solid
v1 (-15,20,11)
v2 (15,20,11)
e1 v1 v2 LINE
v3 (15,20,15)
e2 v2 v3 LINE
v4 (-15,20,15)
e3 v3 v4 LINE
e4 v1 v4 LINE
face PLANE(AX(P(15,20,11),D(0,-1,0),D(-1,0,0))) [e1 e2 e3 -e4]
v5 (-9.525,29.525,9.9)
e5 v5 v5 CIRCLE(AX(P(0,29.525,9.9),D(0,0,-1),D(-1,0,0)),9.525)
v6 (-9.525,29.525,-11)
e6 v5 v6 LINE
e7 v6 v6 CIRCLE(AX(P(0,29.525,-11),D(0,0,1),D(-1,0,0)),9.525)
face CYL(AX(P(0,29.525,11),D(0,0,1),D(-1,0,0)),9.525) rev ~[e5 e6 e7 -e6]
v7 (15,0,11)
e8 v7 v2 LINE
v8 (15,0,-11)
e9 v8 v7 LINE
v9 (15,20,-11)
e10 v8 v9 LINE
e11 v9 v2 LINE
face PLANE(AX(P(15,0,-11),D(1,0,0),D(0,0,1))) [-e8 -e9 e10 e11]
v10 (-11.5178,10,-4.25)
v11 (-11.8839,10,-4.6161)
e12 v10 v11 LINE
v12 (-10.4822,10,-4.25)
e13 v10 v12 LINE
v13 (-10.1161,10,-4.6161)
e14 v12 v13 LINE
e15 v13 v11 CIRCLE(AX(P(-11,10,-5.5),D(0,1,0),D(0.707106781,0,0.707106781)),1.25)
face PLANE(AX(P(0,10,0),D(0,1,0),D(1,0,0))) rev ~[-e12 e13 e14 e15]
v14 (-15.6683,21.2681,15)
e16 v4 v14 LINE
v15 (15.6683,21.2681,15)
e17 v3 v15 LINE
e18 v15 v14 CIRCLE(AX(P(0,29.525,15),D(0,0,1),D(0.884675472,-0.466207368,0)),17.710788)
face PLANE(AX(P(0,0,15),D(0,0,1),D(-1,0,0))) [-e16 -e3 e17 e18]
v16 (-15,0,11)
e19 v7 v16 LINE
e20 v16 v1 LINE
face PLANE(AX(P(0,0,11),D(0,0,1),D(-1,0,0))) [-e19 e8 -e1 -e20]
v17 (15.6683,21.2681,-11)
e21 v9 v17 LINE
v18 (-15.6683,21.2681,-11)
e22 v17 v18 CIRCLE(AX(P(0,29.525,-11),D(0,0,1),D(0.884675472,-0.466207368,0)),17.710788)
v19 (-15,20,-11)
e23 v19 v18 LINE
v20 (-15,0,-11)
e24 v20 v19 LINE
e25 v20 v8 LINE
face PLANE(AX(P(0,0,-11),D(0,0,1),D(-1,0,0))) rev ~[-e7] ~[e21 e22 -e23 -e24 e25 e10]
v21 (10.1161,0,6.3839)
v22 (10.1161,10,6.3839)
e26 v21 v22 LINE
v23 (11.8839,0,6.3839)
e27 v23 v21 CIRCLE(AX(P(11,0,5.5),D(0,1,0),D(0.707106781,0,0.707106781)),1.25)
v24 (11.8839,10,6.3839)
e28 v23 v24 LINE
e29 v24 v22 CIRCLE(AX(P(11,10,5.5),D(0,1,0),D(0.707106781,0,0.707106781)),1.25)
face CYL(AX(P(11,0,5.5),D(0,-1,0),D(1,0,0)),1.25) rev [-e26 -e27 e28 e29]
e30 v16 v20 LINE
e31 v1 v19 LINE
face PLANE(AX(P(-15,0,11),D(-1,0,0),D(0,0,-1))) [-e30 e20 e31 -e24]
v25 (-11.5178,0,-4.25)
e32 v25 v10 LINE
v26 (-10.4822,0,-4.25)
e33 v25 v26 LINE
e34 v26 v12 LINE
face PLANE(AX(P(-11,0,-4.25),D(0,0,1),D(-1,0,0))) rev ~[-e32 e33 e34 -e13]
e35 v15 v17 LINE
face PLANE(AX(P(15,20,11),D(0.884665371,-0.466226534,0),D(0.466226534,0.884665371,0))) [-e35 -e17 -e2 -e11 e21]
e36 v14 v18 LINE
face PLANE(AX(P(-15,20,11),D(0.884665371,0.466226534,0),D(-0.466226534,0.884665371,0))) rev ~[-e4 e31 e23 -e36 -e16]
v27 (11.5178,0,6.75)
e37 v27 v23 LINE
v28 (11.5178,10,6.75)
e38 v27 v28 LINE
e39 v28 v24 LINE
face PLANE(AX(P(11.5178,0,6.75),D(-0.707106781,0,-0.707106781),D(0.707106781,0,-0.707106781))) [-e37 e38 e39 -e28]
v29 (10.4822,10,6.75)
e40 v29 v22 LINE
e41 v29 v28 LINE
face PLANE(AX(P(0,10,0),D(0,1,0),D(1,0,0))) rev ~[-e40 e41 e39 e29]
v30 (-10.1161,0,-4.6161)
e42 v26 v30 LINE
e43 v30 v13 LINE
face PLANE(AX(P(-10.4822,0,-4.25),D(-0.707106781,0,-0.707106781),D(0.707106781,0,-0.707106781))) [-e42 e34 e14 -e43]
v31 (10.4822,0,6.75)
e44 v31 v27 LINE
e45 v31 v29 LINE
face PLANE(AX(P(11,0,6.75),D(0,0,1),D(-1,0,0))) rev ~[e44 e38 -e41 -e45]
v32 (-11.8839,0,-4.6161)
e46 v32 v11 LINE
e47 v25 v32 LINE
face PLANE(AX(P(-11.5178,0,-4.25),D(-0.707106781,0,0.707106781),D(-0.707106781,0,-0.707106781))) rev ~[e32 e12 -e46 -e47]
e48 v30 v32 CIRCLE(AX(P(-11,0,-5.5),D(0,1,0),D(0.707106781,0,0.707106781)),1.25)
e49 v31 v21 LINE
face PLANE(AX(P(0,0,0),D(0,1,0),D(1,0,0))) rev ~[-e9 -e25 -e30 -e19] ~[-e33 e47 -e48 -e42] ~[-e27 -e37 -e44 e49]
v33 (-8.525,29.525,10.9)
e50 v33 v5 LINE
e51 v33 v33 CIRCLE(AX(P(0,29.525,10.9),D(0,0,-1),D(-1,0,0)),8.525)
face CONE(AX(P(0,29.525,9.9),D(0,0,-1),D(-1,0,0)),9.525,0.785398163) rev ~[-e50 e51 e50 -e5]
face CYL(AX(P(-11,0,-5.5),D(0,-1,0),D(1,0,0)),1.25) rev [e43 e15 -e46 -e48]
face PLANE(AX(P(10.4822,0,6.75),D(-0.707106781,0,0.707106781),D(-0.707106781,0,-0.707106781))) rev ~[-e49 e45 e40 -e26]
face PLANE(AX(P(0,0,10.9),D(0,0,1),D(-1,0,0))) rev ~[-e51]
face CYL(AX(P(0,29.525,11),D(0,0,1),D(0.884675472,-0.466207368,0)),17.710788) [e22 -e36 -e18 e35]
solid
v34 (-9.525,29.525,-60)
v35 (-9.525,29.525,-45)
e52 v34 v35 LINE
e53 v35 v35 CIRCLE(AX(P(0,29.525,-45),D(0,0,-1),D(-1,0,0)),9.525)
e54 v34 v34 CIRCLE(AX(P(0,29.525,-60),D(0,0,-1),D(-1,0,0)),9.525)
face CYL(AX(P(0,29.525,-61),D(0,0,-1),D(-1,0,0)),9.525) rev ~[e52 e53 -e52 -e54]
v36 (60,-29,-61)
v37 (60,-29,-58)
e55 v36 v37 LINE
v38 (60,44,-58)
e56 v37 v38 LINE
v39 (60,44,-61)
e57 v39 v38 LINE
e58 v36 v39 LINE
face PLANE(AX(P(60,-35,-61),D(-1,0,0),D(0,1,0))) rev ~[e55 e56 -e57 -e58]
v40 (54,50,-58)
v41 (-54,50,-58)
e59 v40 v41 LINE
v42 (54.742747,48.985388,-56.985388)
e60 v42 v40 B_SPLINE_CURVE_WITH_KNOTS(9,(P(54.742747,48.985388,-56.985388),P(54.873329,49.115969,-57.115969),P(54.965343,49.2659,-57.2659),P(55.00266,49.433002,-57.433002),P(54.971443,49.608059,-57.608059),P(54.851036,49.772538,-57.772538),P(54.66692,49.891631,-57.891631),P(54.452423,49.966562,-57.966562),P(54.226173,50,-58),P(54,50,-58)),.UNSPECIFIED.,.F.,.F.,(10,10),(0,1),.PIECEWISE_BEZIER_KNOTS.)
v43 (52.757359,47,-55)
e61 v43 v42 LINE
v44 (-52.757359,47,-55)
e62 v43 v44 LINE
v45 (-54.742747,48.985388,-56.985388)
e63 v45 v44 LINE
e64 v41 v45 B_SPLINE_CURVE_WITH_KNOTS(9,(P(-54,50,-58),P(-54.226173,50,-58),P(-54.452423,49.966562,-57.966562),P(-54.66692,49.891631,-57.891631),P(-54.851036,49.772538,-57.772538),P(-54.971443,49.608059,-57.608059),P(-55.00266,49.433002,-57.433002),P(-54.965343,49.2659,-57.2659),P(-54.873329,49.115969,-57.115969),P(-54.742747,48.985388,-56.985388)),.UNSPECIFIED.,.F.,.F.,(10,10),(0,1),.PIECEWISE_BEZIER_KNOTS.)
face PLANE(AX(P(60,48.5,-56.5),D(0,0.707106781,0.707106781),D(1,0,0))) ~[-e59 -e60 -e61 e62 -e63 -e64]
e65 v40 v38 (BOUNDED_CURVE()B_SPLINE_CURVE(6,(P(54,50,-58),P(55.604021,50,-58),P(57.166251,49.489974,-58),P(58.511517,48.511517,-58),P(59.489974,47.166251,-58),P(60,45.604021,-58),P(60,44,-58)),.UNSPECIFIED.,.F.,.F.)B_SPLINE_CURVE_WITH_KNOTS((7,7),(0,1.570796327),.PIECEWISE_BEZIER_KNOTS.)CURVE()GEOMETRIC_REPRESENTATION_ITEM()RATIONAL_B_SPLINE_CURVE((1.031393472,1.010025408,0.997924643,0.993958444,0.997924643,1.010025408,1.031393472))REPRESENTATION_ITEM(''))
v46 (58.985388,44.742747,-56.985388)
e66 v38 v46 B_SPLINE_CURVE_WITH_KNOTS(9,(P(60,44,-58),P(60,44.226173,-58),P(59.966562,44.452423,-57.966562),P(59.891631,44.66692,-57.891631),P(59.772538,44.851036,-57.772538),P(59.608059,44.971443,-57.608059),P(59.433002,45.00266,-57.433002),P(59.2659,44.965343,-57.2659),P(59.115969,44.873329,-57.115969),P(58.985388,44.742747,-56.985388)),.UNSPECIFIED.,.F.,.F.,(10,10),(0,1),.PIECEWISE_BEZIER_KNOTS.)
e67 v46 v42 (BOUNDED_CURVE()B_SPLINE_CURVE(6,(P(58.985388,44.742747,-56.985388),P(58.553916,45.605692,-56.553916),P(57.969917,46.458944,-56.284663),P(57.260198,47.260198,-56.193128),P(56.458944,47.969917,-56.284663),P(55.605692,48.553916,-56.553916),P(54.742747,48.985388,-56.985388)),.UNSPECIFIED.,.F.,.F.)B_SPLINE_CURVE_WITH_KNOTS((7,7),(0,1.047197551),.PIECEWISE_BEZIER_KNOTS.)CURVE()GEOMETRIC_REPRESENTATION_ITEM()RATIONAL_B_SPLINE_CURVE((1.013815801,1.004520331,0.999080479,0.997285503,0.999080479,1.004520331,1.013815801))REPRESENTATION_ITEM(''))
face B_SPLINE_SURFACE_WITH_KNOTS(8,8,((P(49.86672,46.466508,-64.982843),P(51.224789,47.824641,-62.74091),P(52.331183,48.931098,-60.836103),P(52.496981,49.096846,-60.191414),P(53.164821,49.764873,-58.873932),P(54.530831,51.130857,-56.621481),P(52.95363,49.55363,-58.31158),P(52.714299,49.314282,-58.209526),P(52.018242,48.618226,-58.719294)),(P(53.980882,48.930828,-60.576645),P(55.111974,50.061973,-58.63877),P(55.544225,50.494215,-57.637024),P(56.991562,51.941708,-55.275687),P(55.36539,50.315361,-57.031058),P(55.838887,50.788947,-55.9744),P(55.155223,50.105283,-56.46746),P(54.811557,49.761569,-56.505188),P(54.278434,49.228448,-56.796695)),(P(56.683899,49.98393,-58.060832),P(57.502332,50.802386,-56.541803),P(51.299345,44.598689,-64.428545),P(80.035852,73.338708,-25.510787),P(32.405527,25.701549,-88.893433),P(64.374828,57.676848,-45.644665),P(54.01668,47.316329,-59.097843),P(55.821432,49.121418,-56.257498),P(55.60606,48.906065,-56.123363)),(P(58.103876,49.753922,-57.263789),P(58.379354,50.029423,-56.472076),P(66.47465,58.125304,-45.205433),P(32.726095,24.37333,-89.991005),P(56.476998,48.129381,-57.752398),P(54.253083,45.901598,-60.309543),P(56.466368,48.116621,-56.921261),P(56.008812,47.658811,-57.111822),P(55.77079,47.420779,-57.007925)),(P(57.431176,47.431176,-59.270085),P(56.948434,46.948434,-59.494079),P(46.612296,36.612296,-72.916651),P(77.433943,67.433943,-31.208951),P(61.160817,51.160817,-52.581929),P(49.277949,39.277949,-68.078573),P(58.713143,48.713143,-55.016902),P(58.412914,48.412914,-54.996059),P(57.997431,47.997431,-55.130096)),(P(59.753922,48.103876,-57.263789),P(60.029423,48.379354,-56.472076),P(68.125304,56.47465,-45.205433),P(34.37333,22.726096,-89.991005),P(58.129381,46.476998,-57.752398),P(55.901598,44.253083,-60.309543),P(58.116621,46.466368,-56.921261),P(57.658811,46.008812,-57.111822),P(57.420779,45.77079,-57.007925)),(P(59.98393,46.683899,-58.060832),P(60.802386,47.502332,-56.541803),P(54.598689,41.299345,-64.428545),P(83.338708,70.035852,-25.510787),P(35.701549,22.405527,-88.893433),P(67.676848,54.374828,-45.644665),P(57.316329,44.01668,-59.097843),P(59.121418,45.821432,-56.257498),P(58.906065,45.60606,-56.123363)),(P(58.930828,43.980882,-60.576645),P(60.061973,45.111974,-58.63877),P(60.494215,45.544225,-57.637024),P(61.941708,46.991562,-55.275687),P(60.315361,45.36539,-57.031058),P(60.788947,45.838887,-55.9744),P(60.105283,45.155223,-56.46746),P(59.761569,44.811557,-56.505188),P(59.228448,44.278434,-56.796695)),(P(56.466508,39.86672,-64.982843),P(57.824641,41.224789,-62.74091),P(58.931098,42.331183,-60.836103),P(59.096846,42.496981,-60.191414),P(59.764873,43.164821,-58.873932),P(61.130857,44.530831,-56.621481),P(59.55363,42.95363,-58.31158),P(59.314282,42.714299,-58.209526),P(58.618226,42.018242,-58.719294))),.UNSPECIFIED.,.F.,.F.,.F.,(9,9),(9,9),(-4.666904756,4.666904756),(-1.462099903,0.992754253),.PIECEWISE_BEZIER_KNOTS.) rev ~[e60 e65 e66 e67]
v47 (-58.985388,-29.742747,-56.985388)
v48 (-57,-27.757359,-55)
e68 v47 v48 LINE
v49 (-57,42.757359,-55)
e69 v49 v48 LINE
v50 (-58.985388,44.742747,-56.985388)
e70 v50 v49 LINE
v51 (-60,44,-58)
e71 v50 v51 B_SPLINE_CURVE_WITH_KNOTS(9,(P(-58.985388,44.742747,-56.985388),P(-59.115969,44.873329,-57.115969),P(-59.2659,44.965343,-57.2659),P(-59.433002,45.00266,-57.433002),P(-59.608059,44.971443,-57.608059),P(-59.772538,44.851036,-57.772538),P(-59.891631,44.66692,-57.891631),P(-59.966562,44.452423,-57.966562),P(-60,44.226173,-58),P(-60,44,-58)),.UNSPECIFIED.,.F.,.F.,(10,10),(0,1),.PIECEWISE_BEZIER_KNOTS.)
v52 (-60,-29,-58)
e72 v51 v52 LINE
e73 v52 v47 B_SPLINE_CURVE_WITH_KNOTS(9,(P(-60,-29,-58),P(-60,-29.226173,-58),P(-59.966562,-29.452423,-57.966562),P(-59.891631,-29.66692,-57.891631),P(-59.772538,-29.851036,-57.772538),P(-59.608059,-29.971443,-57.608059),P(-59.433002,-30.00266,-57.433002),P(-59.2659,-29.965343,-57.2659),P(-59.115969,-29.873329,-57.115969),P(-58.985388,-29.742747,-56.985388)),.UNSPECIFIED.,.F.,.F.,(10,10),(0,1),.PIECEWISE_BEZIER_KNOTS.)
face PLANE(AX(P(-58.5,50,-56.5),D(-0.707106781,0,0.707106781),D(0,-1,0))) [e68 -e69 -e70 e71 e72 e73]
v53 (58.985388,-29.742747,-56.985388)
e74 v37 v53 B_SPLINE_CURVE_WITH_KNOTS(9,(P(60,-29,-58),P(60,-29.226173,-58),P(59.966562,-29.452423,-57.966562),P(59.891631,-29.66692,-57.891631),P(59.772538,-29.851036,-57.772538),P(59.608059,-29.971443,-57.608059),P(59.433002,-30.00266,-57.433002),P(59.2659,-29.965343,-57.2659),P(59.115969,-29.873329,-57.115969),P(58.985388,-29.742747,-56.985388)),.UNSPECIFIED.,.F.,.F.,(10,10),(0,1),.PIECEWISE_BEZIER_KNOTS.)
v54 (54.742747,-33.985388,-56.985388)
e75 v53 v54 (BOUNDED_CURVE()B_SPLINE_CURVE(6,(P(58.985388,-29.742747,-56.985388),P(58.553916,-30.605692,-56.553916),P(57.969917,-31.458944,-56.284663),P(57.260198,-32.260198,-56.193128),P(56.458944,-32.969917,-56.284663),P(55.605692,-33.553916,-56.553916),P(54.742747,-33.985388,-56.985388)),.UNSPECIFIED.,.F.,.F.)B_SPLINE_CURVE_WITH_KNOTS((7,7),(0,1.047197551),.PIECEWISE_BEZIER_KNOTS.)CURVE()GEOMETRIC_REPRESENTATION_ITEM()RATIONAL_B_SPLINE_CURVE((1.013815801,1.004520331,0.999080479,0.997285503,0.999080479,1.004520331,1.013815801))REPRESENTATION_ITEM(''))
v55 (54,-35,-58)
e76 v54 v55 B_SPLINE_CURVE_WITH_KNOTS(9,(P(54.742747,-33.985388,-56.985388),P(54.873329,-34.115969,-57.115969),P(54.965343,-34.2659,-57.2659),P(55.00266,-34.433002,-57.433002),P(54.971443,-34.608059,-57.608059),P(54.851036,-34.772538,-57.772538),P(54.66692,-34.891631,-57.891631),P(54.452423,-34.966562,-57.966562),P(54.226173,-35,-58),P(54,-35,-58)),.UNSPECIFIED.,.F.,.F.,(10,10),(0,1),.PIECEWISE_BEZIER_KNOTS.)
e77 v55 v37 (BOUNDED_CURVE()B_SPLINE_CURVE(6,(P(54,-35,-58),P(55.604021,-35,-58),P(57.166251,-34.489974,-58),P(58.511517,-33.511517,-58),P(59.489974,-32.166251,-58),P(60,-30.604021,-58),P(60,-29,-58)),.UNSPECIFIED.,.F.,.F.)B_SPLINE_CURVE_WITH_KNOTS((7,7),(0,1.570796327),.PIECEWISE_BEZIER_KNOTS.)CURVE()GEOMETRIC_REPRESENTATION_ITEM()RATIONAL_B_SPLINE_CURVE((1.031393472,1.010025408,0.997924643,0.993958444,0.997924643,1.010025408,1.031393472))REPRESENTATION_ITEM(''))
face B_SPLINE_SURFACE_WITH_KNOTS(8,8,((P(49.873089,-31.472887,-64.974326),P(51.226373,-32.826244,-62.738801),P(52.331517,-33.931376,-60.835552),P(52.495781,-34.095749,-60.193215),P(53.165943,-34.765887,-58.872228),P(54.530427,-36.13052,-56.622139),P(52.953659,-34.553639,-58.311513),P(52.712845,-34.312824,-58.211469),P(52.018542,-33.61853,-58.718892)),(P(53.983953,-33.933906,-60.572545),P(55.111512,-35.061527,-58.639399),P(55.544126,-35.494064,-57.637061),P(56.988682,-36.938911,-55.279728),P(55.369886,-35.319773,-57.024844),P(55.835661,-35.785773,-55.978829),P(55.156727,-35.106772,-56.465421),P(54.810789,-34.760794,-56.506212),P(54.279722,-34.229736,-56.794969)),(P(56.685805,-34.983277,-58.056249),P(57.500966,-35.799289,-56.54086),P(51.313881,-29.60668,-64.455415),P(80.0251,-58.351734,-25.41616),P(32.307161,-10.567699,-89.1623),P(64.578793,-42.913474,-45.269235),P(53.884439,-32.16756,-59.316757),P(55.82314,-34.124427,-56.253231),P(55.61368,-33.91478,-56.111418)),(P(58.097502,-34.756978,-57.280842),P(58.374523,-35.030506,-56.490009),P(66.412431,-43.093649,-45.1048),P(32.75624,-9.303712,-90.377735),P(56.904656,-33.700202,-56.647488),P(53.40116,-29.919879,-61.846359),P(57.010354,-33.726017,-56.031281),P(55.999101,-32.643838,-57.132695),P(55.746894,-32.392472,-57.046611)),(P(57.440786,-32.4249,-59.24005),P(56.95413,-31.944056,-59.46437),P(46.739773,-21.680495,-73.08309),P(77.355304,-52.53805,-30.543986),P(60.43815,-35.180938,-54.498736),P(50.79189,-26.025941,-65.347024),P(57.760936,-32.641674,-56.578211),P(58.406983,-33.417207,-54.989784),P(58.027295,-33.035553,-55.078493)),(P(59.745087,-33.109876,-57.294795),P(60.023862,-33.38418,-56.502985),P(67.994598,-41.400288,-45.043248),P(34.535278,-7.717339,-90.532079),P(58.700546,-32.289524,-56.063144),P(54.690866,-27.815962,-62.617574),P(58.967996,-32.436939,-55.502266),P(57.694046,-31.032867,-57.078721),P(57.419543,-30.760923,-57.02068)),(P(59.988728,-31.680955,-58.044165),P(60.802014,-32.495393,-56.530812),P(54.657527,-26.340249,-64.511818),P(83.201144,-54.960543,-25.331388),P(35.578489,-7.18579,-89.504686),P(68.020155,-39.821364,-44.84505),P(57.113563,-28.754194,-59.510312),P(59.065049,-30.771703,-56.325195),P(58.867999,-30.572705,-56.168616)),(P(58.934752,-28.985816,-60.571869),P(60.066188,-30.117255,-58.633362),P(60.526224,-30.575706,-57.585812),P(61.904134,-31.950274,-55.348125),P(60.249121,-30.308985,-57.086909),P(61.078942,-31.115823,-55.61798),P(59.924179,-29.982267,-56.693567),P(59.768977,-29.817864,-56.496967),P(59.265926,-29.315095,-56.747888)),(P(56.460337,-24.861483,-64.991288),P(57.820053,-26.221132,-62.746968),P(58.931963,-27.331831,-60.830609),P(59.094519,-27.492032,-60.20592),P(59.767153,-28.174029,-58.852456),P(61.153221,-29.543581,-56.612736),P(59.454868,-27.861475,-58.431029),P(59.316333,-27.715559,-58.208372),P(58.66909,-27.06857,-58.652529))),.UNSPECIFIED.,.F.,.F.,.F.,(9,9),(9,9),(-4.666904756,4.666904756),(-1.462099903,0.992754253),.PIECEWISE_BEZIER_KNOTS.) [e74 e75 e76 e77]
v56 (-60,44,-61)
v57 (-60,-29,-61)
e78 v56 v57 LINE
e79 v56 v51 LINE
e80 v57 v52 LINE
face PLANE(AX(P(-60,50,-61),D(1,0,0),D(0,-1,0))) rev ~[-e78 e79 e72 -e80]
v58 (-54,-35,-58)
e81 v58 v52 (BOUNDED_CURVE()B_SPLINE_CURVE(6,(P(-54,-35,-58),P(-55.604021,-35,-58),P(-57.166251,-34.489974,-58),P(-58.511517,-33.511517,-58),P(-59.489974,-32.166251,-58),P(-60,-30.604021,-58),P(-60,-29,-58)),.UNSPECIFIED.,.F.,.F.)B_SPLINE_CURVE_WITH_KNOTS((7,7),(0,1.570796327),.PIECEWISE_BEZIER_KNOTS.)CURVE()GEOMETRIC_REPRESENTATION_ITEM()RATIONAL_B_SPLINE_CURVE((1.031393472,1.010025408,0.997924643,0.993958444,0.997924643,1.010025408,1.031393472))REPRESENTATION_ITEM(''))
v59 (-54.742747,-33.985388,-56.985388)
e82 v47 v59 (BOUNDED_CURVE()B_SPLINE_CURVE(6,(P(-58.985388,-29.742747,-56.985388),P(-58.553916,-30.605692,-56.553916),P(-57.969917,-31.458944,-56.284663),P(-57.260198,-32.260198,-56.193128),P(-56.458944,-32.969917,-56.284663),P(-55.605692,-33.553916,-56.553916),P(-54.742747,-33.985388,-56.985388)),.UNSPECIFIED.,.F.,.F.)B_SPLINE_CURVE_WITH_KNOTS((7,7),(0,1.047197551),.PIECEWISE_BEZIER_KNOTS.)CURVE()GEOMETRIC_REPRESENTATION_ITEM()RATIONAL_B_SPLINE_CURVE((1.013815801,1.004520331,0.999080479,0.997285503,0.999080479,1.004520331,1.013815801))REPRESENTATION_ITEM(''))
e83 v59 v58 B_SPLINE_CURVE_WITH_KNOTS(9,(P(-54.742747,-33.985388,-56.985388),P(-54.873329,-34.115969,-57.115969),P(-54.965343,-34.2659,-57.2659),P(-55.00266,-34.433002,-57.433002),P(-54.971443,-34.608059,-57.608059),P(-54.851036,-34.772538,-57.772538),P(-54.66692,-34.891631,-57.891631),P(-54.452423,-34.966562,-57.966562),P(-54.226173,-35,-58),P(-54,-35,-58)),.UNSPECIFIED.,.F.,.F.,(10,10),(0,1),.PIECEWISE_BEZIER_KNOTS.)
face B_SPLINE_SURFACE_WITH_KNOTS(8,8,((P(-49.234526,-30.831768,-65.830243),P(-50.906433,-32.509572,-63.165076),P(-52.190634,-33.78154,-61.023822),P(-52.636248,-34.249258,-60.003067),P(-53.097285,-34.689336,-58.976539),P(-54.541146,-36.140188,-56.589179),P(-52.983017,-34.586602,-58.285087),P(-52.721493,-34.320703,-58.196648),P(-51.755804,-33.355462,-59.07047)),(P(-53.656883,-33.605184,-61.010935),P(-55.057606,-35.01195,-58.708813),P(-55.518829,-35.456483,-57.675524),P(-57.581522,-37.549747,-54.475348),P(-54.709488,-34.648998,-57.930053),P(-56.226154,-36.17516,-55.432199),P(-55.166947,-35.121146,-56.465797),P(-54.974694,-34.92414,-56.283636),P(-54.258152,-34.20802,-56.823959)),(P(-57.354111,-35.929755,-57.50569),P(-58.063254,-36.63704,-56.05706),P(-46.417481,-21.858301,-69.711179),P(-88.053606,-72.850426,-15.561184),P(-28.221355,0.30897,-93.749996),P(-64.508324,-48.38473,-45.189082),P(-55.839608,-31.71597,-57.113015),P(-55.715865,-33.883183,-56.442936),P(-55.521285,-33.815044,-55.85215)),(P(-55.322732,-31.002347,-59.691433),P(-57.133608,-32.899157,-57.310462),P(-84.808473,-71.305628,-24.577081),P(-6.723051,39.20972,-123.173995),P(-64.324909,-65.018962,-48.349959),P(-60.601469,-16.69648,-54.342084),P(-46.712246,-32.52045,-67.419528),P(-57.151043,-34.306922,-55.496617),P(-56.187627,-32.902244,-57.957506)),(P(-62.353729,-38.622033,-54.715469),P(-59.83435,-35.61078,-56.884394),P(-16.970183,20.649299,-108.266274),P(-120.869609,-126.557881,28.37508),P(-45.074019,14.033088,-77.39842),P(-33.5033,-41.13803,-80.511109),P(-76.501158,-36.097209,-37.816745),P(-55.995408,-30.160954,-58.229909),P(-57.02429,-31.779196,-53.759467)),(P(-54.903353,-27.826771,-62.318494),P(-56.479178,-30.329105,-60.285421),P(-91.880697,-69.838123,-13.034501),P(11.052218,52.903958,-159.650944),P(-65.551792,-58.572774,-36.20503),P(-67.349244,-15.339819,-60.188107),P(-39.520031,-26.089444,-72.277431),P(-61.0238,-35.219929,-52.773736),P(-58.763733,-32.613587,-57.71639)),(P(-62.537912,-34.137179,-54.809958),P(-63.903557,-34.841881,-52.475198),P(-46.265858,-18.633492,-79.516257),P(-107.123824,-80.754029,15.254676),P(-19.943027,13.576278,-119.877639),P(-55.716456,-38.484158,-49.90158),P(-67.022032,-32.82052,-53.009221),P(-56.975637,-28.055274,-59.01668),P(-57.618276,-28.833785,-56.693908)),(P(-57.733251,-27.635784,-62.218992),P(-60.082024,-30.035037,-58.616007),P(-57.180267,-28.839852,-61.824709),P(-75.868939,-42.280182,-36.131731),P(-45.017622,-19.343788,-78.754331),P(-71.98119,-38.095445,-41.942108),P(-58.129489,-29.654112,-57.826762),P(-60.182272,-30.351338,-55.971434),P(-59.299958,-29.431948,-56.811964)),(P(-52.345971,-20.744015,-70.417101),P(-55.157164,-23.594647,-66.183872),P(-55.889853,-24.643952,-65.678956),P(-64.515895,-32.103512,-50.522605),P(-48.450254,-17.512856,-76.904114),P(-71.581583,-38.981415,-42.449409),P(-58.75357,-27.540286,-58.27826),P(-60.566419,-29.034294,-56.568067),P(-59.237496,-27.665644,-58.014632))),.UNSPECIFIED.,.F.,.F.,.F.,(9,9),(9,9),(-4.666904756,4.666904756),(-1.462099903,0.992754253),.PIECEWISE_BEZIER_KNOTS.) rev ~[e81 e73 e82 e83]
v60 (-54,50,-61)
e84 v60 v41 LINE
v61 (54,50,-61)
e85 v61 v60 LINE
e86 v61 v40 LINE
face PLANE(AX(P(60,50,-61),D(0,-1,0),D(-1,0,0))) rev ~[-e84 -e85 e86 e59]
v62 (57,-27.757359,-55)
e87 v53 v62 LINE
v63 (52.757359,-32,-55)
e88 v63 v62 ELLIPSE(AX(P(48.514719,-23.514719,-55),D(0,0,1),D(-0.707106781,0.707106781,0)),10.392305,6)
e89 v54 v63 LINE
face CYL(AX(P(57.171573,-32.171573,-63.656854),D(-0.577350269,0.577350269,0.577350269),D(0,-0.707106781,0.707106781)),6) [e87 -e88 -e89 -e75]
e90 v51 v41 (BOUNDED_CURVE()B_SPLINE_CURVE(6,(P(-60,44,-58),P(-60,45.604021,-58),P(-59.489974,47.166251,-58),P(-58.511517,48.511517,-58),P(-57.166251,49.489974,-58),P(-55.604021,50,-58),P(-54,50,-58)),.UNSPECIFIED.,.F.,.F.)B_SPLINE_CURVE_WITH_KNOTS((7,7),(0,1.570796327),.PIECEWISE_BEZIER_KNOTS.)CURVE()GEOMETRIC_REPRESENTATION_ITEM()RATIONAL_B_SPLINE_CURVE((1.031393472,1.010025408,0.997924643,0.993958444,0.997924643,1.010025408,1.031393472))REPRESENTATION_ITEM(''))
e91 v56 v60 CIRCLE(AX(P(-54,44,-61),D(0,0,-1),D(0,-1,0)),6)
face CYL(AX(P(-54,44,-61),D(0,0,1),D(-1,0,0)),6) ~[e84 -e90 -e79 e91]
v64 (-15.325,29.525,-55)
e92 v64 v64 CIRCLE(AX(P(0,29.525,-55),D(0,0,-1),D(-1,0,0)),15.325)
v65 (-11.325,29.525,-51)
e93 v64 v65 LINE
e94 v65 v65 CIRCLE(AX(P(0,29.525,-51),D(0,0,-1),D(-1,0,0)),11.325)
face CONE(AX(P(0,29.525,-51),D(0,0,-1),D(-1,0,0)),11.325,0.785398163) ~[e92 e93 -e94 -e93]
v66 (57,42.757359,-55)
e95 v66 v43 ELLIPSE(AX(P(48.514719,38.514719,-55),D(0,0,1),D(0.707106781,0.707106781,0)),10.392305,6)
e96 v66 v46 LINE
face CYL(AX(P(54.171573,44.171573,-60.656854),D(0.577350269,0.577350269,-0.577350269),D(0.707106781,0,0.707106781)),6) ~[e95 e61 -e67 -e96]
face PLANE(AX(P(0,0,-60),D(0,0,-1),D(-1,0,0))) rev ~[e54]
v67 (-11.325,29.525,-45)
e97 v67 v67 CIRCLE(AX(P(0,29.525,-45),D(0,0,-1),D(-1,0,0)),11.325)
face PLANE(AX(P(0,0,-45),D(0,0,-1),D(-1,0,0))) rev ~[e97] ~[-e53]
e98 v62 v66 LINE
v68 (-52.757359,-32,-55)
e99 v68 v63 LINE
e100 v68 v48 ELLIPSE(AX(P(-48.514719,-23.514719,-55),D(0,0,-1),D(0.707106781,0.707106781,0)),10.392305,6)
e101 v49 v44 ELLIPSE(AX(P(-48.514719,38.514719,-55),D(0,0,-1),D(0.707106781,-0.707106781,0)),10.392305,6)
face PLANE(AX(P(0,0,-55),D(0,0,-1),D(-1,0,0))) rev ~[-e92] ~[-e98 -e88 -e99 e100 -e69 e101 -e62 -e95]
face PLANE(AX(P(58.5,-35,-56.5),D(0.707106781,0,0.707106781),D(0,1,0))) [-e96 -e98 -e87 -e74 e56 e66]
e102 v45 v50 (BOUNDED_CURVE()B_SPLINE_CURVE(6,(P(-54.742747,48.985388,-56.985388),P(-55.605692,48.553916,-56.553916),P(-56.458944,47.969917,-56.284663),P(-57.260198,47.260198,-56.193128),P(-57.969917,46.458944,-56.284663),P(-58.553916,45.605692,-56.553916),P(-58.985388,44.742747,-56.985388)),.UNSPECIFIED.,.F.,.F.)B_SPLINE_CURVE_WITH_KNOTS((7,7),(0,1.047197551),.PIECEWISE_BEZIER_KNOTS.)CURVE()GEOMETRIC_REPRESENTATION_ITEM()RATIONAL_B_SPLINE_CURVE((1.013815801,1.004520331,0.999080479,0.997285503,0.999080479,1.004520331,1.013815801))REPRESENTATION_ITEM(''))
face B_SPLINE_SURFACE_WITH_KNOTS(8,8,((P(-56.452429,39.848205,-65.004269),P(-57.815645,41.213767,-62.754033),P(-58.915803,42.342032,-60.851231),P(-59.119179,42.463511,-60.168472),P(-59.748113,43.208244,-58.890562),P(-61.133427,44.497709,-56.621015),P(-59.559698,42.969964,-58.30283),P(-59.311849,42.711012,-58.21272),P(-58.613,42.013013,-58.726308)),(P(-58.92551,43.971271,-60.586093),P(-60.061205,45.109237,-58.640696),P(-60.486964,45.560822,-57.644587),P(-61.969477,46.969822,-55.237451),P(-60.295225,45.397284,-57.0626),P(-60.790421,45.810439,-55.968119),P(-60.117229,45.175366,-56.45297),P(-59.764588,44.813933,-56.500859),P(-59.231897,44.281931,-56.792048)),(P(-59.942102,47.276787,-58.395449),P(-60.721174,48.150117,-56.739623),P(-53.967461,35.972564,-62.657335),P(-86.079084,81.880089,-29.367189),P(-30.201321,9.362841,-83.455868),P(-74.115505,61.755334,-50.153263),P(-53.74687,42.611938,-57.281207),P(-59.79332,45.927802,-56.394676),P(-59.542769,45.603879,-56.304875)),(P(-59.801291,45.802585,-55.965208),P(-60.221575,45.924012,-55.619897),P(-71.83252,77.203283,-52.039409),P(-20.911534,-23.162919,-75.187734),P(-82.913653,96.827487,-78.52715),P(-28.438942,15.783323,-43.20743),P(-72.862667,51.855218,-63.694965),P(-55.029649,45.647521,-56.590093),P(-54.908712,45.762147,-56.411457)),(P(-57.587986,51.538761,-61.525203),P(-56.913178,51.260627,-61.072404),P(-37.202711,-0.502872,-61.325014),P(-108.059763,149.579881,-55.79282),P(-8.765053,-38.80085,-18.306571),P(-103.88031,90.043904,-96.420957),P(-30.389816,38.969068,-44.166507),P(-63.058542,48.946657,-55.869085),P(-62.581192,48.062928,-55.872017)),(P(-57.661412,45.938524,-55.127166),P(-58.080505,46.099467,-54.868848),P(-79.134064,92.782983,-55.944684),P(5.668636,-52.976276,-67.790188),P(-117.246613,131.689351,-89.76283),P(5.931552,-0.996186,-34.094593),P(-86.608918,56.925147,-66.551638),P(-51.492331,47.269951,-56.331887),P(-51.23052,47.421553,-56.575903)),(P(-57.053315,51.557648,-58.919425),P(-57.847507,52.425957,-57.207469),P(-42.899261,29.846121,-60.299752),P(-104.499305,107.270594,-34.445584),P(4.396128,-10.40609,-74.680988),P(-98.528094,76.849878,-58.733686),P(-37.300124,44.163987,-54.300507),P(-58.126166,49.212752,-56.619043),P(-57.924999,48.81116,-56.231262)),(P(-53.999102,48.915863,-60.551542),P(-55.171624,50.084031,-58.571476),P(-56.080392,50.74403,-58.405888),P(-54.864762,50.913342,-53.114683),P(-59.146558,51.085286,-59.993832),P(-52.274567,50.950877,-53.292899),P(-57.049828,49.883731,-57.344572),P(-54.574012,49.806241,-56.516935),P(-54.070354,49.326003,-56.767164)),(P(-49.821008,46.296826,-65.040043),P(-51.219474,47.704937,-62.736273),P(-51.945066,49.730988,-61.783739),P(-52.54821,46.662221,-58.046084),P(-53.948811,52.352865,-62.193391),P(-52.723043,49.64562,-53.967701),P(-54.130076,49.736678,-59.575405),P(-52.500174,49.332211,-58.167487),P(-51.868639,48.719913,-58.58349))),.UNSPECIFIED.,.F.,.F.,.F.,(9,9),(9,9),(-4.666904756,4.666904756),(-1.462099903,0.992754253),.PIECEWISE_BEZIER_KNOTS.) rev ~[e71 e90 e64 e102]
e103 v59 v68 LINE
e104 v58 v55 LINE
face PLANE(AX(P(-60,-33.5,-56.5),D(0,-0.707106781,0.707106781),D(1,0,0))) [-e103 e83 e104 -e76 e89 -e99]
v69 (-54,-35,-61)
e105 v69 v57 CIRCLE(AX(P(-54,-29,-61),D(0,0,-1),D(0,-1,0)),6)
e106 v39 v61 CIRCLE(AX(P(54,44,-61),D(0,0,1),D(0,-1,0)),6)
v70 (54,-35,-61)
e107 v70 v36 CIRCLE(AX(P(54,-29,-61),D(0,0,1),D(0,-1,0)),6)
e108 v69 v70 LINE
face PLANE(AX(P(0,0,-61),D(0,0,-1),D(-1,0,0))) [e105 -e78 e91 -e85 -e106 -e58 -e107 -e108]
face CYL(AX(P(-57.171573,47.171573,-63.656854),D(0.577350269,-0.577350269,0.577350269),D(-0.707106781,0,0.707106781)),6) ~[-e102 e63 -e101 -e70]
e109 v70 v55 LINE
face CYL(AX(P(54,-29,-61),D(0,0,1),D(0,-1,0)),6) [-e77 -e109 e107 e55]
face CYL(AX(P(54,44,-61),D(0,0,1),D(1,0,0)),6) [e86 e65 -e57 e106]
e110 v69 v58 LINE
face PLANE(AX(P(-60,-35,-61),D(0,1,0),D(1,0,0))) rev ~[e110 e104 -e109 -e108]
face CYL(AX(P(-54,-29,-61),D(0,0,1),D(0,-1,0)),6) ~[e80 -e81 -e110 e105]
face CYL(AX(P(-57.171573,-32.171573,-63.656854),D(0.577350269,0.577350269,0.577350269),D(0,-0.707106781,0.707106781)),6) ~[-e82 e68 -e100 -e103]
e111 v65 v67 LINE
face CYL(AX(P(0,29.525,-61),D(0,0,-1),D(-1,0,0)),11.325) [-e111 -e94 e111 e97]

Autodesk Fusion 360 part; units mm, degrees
sketch "Sketch1" plane through (0, 0, 0) normal (0, 1, 0) x (1, 0, 0) in component "Rough draft"
  line L0 (15, -11) -> (-15, -11)
  line L1 (-15, -11) -> (-15, 11)
  line L2 (-15, 11) -> (15, 11)
  line L3 (15, 11) -> (15, -11)
  line L4 (15, -11) -> (-15, 11) construction
  line L5 (-15, -11) -> (15, 11) construction
  line L6 (11, 5.5) -> (-11, 5.5) construction
  line L7 (-11, 5.5) -> (-11, -5.5) construction
  line L8 (-11, -5.5) -> (11, -5.5) construction
  line L9 (11, -5.5) -> (11, 5.5) construction
  line L10 (11, 5.5) -> (-11, -5.5) construction
  line L11 (-11, 5.5) -> (11, -5.5) construction
  circle A0 centre (11, -5.5) radius 1.25
  circle A1 centre (-11, 5.5) radius 1.25
  dimension "d1" = 22
  dimension "d2" = 30
  dimension "d3" = 22
  dimension "d4" = 11
  dimension "d5" = 2.5
extrude "Extrude1" add sketch "Sketch1" along normal blind 20 contours L0 L1 L2 L3 | A0 | A1 makes body 1 in component "Rough draft"
sketch "Sketch2" plane through (0, 0, 11) normal (0, 0, 1) x (-1, 0, 0) in component "Rough draft"
  line L0 (15, 0) -> (-15, 0)
  line L1 (-15, 0) -> (-15, -20)
  line L2 (-15, -20) -> (15, -20)
  line L3 (15, -20) -> (15, 0)
  line L4 (0, 0) -> (0, -29.525) construction
  circle A0 centre (0, -29.525) radius 9.525
  arc A1 (-15.6683, -21.2681) -> (15.6683, -21.2681) centre (0, -29.525) ccw
  line L5 (-15, -20) -> (-15.6683, -21.2681)
  line L6 (15, -20) -> (15.6683, -21.2681)
  dimension "d8" = 19.05
  dimension "d9" = 8.1858
extrude "Extrude2" add sketch "Sketch2" against normal blind 22 contours L2 A1 L5 L6 bodies 1 in component "Rough draft"
extrude "Extrude3" add sketch "Sketch2" along normal blind 4 contours A0 | L2 A1 L5 L6 bodies 1 in component "Rough draft"
extrude "Extrude4" add sketch "Sketch2" against normal blind 0.1 contours A0 bodies 1 in component "Rough draft"
chamfer "Chamfer1" distance 1 angle 45 1 edges at (8.8804, 32.9694, 10.9) on bodies 1 in component "Rough draft"
extrude "Extrude5" cut sketch "Sketch1" along normal blind 10 contours A0 | A1 bodies 1 in component "Rough draft"
sketch "Sketch3" plane through (0, 0, 0) normal (0, 1, 0) x (1, 0, 0) in component "Rough draft"
  circle A0 centre (-11, 5.5) radius 1.25
  circle A1 centre (11, -5.5) radius 1.25
  line L0 (-11, 5.5) -> (-11, 3.7322) construction
  line L1 (-11, 4.25) -> (-10.4822, 4.25)
  line L2 (-10.4822, 4.25) -> (-10.1161, 4.6161)
  line L3 (-11, 4.25) -> (-11.5178, 4.25)
  line L4 (-11.5178, 4.25) -> (-11.8839, 4.6161)
  line L5 (11, -5.5) -> (11, -6.75) construction
  line L6 (11, -6.75) -> (11.5178, -6.75)
  line L7 (11.5178, -6.75) -> (11.8839, -6.3839)
  line L8 (11, -6.75) -> (10.4822, -6.75)
  line L9 (10.4822, -6.75) -> (10.1161, -6.3839)
  dimension "d20" = 135
  dimension "d21" = 135
extrude "Extrude6" cut sketch "Sketch3" along normal blind 10 contours A0 L3 L4 | A0 L1 L2 | A1 L8 L9 | A1 L6 L7 bodies 1 in component "Rough draft"
ref_plane "WorkPlane1" through (0, 26.1998, -61) normal (0, 0, -1) x (-1, 0, 0) in component "Rough draft"
sketch "Base" plane through (0, 0, -61) normal (0, 0, -1) x (-1, 0, 0) in component "Rough draft"
  circle A0 centre (0, 29.525) radius 9.525
  line L0 (60, -35) -> (-60, -35)
  line L1 (-60, -35) -> (-60, 50)
  line L2 (-60, 50) -> (60, 50)
  line L3 (60, 50) -> (60, -35)
  line L4 (0, 50) -> (0, -35) construction
  line L5 (0, 20) -> (6.5325, 20) construction
  circle A1 centre (0, 29.525) radius 11.325
  dimension "d25" = 55
  dimension "d26" = 30
  dimension "d27" = 120
  dimension "d32" = 1.8
extrude "Extrude7" add sketch "Base" against normal blind 1 separate body contours A0 makes body 2 in component "Rough draft"
extrude "Extrude9" add sketch "Base" against normal blind 16 contours A1 bodies 2 in component "Rough draft"
extrude "Extrude8" add sketch "Base" against normal blind 6 contours L0 L1 L2 L3 bodies 2 in component "Rough draft"
chamfer "Chamfer2" distance 3 angle 45 4 edges at (0, -35, -55) (-60, 7.5, -55) (0, 50, -55) (60, 7.5, -55) on bodies 2 in component "Rough draft"
fillet "Fillet1" radius 6 8 edges at (60, -35, -59.5) (58.5, -33.5, -56.5) (58.5, 48.5, -56.5) (60, 50, -59.5) (-60, -35, -59.5) (-58.5, -33.5, -56.5) (-60, 50, -59.5) (-58.5, 48.5, -56.5) on bodies 2 in component "Rough draft"
chamfer "Chamfer3" distance 4 angle 45 1 edges at (10.5586, 33.6203, -55) on bodies 2 in component "Rough draft"
component "Rough draft" placed x (1, 0, 0) y (0, 1, 0) z (0, 0, 1) at (0, 0, 0)
